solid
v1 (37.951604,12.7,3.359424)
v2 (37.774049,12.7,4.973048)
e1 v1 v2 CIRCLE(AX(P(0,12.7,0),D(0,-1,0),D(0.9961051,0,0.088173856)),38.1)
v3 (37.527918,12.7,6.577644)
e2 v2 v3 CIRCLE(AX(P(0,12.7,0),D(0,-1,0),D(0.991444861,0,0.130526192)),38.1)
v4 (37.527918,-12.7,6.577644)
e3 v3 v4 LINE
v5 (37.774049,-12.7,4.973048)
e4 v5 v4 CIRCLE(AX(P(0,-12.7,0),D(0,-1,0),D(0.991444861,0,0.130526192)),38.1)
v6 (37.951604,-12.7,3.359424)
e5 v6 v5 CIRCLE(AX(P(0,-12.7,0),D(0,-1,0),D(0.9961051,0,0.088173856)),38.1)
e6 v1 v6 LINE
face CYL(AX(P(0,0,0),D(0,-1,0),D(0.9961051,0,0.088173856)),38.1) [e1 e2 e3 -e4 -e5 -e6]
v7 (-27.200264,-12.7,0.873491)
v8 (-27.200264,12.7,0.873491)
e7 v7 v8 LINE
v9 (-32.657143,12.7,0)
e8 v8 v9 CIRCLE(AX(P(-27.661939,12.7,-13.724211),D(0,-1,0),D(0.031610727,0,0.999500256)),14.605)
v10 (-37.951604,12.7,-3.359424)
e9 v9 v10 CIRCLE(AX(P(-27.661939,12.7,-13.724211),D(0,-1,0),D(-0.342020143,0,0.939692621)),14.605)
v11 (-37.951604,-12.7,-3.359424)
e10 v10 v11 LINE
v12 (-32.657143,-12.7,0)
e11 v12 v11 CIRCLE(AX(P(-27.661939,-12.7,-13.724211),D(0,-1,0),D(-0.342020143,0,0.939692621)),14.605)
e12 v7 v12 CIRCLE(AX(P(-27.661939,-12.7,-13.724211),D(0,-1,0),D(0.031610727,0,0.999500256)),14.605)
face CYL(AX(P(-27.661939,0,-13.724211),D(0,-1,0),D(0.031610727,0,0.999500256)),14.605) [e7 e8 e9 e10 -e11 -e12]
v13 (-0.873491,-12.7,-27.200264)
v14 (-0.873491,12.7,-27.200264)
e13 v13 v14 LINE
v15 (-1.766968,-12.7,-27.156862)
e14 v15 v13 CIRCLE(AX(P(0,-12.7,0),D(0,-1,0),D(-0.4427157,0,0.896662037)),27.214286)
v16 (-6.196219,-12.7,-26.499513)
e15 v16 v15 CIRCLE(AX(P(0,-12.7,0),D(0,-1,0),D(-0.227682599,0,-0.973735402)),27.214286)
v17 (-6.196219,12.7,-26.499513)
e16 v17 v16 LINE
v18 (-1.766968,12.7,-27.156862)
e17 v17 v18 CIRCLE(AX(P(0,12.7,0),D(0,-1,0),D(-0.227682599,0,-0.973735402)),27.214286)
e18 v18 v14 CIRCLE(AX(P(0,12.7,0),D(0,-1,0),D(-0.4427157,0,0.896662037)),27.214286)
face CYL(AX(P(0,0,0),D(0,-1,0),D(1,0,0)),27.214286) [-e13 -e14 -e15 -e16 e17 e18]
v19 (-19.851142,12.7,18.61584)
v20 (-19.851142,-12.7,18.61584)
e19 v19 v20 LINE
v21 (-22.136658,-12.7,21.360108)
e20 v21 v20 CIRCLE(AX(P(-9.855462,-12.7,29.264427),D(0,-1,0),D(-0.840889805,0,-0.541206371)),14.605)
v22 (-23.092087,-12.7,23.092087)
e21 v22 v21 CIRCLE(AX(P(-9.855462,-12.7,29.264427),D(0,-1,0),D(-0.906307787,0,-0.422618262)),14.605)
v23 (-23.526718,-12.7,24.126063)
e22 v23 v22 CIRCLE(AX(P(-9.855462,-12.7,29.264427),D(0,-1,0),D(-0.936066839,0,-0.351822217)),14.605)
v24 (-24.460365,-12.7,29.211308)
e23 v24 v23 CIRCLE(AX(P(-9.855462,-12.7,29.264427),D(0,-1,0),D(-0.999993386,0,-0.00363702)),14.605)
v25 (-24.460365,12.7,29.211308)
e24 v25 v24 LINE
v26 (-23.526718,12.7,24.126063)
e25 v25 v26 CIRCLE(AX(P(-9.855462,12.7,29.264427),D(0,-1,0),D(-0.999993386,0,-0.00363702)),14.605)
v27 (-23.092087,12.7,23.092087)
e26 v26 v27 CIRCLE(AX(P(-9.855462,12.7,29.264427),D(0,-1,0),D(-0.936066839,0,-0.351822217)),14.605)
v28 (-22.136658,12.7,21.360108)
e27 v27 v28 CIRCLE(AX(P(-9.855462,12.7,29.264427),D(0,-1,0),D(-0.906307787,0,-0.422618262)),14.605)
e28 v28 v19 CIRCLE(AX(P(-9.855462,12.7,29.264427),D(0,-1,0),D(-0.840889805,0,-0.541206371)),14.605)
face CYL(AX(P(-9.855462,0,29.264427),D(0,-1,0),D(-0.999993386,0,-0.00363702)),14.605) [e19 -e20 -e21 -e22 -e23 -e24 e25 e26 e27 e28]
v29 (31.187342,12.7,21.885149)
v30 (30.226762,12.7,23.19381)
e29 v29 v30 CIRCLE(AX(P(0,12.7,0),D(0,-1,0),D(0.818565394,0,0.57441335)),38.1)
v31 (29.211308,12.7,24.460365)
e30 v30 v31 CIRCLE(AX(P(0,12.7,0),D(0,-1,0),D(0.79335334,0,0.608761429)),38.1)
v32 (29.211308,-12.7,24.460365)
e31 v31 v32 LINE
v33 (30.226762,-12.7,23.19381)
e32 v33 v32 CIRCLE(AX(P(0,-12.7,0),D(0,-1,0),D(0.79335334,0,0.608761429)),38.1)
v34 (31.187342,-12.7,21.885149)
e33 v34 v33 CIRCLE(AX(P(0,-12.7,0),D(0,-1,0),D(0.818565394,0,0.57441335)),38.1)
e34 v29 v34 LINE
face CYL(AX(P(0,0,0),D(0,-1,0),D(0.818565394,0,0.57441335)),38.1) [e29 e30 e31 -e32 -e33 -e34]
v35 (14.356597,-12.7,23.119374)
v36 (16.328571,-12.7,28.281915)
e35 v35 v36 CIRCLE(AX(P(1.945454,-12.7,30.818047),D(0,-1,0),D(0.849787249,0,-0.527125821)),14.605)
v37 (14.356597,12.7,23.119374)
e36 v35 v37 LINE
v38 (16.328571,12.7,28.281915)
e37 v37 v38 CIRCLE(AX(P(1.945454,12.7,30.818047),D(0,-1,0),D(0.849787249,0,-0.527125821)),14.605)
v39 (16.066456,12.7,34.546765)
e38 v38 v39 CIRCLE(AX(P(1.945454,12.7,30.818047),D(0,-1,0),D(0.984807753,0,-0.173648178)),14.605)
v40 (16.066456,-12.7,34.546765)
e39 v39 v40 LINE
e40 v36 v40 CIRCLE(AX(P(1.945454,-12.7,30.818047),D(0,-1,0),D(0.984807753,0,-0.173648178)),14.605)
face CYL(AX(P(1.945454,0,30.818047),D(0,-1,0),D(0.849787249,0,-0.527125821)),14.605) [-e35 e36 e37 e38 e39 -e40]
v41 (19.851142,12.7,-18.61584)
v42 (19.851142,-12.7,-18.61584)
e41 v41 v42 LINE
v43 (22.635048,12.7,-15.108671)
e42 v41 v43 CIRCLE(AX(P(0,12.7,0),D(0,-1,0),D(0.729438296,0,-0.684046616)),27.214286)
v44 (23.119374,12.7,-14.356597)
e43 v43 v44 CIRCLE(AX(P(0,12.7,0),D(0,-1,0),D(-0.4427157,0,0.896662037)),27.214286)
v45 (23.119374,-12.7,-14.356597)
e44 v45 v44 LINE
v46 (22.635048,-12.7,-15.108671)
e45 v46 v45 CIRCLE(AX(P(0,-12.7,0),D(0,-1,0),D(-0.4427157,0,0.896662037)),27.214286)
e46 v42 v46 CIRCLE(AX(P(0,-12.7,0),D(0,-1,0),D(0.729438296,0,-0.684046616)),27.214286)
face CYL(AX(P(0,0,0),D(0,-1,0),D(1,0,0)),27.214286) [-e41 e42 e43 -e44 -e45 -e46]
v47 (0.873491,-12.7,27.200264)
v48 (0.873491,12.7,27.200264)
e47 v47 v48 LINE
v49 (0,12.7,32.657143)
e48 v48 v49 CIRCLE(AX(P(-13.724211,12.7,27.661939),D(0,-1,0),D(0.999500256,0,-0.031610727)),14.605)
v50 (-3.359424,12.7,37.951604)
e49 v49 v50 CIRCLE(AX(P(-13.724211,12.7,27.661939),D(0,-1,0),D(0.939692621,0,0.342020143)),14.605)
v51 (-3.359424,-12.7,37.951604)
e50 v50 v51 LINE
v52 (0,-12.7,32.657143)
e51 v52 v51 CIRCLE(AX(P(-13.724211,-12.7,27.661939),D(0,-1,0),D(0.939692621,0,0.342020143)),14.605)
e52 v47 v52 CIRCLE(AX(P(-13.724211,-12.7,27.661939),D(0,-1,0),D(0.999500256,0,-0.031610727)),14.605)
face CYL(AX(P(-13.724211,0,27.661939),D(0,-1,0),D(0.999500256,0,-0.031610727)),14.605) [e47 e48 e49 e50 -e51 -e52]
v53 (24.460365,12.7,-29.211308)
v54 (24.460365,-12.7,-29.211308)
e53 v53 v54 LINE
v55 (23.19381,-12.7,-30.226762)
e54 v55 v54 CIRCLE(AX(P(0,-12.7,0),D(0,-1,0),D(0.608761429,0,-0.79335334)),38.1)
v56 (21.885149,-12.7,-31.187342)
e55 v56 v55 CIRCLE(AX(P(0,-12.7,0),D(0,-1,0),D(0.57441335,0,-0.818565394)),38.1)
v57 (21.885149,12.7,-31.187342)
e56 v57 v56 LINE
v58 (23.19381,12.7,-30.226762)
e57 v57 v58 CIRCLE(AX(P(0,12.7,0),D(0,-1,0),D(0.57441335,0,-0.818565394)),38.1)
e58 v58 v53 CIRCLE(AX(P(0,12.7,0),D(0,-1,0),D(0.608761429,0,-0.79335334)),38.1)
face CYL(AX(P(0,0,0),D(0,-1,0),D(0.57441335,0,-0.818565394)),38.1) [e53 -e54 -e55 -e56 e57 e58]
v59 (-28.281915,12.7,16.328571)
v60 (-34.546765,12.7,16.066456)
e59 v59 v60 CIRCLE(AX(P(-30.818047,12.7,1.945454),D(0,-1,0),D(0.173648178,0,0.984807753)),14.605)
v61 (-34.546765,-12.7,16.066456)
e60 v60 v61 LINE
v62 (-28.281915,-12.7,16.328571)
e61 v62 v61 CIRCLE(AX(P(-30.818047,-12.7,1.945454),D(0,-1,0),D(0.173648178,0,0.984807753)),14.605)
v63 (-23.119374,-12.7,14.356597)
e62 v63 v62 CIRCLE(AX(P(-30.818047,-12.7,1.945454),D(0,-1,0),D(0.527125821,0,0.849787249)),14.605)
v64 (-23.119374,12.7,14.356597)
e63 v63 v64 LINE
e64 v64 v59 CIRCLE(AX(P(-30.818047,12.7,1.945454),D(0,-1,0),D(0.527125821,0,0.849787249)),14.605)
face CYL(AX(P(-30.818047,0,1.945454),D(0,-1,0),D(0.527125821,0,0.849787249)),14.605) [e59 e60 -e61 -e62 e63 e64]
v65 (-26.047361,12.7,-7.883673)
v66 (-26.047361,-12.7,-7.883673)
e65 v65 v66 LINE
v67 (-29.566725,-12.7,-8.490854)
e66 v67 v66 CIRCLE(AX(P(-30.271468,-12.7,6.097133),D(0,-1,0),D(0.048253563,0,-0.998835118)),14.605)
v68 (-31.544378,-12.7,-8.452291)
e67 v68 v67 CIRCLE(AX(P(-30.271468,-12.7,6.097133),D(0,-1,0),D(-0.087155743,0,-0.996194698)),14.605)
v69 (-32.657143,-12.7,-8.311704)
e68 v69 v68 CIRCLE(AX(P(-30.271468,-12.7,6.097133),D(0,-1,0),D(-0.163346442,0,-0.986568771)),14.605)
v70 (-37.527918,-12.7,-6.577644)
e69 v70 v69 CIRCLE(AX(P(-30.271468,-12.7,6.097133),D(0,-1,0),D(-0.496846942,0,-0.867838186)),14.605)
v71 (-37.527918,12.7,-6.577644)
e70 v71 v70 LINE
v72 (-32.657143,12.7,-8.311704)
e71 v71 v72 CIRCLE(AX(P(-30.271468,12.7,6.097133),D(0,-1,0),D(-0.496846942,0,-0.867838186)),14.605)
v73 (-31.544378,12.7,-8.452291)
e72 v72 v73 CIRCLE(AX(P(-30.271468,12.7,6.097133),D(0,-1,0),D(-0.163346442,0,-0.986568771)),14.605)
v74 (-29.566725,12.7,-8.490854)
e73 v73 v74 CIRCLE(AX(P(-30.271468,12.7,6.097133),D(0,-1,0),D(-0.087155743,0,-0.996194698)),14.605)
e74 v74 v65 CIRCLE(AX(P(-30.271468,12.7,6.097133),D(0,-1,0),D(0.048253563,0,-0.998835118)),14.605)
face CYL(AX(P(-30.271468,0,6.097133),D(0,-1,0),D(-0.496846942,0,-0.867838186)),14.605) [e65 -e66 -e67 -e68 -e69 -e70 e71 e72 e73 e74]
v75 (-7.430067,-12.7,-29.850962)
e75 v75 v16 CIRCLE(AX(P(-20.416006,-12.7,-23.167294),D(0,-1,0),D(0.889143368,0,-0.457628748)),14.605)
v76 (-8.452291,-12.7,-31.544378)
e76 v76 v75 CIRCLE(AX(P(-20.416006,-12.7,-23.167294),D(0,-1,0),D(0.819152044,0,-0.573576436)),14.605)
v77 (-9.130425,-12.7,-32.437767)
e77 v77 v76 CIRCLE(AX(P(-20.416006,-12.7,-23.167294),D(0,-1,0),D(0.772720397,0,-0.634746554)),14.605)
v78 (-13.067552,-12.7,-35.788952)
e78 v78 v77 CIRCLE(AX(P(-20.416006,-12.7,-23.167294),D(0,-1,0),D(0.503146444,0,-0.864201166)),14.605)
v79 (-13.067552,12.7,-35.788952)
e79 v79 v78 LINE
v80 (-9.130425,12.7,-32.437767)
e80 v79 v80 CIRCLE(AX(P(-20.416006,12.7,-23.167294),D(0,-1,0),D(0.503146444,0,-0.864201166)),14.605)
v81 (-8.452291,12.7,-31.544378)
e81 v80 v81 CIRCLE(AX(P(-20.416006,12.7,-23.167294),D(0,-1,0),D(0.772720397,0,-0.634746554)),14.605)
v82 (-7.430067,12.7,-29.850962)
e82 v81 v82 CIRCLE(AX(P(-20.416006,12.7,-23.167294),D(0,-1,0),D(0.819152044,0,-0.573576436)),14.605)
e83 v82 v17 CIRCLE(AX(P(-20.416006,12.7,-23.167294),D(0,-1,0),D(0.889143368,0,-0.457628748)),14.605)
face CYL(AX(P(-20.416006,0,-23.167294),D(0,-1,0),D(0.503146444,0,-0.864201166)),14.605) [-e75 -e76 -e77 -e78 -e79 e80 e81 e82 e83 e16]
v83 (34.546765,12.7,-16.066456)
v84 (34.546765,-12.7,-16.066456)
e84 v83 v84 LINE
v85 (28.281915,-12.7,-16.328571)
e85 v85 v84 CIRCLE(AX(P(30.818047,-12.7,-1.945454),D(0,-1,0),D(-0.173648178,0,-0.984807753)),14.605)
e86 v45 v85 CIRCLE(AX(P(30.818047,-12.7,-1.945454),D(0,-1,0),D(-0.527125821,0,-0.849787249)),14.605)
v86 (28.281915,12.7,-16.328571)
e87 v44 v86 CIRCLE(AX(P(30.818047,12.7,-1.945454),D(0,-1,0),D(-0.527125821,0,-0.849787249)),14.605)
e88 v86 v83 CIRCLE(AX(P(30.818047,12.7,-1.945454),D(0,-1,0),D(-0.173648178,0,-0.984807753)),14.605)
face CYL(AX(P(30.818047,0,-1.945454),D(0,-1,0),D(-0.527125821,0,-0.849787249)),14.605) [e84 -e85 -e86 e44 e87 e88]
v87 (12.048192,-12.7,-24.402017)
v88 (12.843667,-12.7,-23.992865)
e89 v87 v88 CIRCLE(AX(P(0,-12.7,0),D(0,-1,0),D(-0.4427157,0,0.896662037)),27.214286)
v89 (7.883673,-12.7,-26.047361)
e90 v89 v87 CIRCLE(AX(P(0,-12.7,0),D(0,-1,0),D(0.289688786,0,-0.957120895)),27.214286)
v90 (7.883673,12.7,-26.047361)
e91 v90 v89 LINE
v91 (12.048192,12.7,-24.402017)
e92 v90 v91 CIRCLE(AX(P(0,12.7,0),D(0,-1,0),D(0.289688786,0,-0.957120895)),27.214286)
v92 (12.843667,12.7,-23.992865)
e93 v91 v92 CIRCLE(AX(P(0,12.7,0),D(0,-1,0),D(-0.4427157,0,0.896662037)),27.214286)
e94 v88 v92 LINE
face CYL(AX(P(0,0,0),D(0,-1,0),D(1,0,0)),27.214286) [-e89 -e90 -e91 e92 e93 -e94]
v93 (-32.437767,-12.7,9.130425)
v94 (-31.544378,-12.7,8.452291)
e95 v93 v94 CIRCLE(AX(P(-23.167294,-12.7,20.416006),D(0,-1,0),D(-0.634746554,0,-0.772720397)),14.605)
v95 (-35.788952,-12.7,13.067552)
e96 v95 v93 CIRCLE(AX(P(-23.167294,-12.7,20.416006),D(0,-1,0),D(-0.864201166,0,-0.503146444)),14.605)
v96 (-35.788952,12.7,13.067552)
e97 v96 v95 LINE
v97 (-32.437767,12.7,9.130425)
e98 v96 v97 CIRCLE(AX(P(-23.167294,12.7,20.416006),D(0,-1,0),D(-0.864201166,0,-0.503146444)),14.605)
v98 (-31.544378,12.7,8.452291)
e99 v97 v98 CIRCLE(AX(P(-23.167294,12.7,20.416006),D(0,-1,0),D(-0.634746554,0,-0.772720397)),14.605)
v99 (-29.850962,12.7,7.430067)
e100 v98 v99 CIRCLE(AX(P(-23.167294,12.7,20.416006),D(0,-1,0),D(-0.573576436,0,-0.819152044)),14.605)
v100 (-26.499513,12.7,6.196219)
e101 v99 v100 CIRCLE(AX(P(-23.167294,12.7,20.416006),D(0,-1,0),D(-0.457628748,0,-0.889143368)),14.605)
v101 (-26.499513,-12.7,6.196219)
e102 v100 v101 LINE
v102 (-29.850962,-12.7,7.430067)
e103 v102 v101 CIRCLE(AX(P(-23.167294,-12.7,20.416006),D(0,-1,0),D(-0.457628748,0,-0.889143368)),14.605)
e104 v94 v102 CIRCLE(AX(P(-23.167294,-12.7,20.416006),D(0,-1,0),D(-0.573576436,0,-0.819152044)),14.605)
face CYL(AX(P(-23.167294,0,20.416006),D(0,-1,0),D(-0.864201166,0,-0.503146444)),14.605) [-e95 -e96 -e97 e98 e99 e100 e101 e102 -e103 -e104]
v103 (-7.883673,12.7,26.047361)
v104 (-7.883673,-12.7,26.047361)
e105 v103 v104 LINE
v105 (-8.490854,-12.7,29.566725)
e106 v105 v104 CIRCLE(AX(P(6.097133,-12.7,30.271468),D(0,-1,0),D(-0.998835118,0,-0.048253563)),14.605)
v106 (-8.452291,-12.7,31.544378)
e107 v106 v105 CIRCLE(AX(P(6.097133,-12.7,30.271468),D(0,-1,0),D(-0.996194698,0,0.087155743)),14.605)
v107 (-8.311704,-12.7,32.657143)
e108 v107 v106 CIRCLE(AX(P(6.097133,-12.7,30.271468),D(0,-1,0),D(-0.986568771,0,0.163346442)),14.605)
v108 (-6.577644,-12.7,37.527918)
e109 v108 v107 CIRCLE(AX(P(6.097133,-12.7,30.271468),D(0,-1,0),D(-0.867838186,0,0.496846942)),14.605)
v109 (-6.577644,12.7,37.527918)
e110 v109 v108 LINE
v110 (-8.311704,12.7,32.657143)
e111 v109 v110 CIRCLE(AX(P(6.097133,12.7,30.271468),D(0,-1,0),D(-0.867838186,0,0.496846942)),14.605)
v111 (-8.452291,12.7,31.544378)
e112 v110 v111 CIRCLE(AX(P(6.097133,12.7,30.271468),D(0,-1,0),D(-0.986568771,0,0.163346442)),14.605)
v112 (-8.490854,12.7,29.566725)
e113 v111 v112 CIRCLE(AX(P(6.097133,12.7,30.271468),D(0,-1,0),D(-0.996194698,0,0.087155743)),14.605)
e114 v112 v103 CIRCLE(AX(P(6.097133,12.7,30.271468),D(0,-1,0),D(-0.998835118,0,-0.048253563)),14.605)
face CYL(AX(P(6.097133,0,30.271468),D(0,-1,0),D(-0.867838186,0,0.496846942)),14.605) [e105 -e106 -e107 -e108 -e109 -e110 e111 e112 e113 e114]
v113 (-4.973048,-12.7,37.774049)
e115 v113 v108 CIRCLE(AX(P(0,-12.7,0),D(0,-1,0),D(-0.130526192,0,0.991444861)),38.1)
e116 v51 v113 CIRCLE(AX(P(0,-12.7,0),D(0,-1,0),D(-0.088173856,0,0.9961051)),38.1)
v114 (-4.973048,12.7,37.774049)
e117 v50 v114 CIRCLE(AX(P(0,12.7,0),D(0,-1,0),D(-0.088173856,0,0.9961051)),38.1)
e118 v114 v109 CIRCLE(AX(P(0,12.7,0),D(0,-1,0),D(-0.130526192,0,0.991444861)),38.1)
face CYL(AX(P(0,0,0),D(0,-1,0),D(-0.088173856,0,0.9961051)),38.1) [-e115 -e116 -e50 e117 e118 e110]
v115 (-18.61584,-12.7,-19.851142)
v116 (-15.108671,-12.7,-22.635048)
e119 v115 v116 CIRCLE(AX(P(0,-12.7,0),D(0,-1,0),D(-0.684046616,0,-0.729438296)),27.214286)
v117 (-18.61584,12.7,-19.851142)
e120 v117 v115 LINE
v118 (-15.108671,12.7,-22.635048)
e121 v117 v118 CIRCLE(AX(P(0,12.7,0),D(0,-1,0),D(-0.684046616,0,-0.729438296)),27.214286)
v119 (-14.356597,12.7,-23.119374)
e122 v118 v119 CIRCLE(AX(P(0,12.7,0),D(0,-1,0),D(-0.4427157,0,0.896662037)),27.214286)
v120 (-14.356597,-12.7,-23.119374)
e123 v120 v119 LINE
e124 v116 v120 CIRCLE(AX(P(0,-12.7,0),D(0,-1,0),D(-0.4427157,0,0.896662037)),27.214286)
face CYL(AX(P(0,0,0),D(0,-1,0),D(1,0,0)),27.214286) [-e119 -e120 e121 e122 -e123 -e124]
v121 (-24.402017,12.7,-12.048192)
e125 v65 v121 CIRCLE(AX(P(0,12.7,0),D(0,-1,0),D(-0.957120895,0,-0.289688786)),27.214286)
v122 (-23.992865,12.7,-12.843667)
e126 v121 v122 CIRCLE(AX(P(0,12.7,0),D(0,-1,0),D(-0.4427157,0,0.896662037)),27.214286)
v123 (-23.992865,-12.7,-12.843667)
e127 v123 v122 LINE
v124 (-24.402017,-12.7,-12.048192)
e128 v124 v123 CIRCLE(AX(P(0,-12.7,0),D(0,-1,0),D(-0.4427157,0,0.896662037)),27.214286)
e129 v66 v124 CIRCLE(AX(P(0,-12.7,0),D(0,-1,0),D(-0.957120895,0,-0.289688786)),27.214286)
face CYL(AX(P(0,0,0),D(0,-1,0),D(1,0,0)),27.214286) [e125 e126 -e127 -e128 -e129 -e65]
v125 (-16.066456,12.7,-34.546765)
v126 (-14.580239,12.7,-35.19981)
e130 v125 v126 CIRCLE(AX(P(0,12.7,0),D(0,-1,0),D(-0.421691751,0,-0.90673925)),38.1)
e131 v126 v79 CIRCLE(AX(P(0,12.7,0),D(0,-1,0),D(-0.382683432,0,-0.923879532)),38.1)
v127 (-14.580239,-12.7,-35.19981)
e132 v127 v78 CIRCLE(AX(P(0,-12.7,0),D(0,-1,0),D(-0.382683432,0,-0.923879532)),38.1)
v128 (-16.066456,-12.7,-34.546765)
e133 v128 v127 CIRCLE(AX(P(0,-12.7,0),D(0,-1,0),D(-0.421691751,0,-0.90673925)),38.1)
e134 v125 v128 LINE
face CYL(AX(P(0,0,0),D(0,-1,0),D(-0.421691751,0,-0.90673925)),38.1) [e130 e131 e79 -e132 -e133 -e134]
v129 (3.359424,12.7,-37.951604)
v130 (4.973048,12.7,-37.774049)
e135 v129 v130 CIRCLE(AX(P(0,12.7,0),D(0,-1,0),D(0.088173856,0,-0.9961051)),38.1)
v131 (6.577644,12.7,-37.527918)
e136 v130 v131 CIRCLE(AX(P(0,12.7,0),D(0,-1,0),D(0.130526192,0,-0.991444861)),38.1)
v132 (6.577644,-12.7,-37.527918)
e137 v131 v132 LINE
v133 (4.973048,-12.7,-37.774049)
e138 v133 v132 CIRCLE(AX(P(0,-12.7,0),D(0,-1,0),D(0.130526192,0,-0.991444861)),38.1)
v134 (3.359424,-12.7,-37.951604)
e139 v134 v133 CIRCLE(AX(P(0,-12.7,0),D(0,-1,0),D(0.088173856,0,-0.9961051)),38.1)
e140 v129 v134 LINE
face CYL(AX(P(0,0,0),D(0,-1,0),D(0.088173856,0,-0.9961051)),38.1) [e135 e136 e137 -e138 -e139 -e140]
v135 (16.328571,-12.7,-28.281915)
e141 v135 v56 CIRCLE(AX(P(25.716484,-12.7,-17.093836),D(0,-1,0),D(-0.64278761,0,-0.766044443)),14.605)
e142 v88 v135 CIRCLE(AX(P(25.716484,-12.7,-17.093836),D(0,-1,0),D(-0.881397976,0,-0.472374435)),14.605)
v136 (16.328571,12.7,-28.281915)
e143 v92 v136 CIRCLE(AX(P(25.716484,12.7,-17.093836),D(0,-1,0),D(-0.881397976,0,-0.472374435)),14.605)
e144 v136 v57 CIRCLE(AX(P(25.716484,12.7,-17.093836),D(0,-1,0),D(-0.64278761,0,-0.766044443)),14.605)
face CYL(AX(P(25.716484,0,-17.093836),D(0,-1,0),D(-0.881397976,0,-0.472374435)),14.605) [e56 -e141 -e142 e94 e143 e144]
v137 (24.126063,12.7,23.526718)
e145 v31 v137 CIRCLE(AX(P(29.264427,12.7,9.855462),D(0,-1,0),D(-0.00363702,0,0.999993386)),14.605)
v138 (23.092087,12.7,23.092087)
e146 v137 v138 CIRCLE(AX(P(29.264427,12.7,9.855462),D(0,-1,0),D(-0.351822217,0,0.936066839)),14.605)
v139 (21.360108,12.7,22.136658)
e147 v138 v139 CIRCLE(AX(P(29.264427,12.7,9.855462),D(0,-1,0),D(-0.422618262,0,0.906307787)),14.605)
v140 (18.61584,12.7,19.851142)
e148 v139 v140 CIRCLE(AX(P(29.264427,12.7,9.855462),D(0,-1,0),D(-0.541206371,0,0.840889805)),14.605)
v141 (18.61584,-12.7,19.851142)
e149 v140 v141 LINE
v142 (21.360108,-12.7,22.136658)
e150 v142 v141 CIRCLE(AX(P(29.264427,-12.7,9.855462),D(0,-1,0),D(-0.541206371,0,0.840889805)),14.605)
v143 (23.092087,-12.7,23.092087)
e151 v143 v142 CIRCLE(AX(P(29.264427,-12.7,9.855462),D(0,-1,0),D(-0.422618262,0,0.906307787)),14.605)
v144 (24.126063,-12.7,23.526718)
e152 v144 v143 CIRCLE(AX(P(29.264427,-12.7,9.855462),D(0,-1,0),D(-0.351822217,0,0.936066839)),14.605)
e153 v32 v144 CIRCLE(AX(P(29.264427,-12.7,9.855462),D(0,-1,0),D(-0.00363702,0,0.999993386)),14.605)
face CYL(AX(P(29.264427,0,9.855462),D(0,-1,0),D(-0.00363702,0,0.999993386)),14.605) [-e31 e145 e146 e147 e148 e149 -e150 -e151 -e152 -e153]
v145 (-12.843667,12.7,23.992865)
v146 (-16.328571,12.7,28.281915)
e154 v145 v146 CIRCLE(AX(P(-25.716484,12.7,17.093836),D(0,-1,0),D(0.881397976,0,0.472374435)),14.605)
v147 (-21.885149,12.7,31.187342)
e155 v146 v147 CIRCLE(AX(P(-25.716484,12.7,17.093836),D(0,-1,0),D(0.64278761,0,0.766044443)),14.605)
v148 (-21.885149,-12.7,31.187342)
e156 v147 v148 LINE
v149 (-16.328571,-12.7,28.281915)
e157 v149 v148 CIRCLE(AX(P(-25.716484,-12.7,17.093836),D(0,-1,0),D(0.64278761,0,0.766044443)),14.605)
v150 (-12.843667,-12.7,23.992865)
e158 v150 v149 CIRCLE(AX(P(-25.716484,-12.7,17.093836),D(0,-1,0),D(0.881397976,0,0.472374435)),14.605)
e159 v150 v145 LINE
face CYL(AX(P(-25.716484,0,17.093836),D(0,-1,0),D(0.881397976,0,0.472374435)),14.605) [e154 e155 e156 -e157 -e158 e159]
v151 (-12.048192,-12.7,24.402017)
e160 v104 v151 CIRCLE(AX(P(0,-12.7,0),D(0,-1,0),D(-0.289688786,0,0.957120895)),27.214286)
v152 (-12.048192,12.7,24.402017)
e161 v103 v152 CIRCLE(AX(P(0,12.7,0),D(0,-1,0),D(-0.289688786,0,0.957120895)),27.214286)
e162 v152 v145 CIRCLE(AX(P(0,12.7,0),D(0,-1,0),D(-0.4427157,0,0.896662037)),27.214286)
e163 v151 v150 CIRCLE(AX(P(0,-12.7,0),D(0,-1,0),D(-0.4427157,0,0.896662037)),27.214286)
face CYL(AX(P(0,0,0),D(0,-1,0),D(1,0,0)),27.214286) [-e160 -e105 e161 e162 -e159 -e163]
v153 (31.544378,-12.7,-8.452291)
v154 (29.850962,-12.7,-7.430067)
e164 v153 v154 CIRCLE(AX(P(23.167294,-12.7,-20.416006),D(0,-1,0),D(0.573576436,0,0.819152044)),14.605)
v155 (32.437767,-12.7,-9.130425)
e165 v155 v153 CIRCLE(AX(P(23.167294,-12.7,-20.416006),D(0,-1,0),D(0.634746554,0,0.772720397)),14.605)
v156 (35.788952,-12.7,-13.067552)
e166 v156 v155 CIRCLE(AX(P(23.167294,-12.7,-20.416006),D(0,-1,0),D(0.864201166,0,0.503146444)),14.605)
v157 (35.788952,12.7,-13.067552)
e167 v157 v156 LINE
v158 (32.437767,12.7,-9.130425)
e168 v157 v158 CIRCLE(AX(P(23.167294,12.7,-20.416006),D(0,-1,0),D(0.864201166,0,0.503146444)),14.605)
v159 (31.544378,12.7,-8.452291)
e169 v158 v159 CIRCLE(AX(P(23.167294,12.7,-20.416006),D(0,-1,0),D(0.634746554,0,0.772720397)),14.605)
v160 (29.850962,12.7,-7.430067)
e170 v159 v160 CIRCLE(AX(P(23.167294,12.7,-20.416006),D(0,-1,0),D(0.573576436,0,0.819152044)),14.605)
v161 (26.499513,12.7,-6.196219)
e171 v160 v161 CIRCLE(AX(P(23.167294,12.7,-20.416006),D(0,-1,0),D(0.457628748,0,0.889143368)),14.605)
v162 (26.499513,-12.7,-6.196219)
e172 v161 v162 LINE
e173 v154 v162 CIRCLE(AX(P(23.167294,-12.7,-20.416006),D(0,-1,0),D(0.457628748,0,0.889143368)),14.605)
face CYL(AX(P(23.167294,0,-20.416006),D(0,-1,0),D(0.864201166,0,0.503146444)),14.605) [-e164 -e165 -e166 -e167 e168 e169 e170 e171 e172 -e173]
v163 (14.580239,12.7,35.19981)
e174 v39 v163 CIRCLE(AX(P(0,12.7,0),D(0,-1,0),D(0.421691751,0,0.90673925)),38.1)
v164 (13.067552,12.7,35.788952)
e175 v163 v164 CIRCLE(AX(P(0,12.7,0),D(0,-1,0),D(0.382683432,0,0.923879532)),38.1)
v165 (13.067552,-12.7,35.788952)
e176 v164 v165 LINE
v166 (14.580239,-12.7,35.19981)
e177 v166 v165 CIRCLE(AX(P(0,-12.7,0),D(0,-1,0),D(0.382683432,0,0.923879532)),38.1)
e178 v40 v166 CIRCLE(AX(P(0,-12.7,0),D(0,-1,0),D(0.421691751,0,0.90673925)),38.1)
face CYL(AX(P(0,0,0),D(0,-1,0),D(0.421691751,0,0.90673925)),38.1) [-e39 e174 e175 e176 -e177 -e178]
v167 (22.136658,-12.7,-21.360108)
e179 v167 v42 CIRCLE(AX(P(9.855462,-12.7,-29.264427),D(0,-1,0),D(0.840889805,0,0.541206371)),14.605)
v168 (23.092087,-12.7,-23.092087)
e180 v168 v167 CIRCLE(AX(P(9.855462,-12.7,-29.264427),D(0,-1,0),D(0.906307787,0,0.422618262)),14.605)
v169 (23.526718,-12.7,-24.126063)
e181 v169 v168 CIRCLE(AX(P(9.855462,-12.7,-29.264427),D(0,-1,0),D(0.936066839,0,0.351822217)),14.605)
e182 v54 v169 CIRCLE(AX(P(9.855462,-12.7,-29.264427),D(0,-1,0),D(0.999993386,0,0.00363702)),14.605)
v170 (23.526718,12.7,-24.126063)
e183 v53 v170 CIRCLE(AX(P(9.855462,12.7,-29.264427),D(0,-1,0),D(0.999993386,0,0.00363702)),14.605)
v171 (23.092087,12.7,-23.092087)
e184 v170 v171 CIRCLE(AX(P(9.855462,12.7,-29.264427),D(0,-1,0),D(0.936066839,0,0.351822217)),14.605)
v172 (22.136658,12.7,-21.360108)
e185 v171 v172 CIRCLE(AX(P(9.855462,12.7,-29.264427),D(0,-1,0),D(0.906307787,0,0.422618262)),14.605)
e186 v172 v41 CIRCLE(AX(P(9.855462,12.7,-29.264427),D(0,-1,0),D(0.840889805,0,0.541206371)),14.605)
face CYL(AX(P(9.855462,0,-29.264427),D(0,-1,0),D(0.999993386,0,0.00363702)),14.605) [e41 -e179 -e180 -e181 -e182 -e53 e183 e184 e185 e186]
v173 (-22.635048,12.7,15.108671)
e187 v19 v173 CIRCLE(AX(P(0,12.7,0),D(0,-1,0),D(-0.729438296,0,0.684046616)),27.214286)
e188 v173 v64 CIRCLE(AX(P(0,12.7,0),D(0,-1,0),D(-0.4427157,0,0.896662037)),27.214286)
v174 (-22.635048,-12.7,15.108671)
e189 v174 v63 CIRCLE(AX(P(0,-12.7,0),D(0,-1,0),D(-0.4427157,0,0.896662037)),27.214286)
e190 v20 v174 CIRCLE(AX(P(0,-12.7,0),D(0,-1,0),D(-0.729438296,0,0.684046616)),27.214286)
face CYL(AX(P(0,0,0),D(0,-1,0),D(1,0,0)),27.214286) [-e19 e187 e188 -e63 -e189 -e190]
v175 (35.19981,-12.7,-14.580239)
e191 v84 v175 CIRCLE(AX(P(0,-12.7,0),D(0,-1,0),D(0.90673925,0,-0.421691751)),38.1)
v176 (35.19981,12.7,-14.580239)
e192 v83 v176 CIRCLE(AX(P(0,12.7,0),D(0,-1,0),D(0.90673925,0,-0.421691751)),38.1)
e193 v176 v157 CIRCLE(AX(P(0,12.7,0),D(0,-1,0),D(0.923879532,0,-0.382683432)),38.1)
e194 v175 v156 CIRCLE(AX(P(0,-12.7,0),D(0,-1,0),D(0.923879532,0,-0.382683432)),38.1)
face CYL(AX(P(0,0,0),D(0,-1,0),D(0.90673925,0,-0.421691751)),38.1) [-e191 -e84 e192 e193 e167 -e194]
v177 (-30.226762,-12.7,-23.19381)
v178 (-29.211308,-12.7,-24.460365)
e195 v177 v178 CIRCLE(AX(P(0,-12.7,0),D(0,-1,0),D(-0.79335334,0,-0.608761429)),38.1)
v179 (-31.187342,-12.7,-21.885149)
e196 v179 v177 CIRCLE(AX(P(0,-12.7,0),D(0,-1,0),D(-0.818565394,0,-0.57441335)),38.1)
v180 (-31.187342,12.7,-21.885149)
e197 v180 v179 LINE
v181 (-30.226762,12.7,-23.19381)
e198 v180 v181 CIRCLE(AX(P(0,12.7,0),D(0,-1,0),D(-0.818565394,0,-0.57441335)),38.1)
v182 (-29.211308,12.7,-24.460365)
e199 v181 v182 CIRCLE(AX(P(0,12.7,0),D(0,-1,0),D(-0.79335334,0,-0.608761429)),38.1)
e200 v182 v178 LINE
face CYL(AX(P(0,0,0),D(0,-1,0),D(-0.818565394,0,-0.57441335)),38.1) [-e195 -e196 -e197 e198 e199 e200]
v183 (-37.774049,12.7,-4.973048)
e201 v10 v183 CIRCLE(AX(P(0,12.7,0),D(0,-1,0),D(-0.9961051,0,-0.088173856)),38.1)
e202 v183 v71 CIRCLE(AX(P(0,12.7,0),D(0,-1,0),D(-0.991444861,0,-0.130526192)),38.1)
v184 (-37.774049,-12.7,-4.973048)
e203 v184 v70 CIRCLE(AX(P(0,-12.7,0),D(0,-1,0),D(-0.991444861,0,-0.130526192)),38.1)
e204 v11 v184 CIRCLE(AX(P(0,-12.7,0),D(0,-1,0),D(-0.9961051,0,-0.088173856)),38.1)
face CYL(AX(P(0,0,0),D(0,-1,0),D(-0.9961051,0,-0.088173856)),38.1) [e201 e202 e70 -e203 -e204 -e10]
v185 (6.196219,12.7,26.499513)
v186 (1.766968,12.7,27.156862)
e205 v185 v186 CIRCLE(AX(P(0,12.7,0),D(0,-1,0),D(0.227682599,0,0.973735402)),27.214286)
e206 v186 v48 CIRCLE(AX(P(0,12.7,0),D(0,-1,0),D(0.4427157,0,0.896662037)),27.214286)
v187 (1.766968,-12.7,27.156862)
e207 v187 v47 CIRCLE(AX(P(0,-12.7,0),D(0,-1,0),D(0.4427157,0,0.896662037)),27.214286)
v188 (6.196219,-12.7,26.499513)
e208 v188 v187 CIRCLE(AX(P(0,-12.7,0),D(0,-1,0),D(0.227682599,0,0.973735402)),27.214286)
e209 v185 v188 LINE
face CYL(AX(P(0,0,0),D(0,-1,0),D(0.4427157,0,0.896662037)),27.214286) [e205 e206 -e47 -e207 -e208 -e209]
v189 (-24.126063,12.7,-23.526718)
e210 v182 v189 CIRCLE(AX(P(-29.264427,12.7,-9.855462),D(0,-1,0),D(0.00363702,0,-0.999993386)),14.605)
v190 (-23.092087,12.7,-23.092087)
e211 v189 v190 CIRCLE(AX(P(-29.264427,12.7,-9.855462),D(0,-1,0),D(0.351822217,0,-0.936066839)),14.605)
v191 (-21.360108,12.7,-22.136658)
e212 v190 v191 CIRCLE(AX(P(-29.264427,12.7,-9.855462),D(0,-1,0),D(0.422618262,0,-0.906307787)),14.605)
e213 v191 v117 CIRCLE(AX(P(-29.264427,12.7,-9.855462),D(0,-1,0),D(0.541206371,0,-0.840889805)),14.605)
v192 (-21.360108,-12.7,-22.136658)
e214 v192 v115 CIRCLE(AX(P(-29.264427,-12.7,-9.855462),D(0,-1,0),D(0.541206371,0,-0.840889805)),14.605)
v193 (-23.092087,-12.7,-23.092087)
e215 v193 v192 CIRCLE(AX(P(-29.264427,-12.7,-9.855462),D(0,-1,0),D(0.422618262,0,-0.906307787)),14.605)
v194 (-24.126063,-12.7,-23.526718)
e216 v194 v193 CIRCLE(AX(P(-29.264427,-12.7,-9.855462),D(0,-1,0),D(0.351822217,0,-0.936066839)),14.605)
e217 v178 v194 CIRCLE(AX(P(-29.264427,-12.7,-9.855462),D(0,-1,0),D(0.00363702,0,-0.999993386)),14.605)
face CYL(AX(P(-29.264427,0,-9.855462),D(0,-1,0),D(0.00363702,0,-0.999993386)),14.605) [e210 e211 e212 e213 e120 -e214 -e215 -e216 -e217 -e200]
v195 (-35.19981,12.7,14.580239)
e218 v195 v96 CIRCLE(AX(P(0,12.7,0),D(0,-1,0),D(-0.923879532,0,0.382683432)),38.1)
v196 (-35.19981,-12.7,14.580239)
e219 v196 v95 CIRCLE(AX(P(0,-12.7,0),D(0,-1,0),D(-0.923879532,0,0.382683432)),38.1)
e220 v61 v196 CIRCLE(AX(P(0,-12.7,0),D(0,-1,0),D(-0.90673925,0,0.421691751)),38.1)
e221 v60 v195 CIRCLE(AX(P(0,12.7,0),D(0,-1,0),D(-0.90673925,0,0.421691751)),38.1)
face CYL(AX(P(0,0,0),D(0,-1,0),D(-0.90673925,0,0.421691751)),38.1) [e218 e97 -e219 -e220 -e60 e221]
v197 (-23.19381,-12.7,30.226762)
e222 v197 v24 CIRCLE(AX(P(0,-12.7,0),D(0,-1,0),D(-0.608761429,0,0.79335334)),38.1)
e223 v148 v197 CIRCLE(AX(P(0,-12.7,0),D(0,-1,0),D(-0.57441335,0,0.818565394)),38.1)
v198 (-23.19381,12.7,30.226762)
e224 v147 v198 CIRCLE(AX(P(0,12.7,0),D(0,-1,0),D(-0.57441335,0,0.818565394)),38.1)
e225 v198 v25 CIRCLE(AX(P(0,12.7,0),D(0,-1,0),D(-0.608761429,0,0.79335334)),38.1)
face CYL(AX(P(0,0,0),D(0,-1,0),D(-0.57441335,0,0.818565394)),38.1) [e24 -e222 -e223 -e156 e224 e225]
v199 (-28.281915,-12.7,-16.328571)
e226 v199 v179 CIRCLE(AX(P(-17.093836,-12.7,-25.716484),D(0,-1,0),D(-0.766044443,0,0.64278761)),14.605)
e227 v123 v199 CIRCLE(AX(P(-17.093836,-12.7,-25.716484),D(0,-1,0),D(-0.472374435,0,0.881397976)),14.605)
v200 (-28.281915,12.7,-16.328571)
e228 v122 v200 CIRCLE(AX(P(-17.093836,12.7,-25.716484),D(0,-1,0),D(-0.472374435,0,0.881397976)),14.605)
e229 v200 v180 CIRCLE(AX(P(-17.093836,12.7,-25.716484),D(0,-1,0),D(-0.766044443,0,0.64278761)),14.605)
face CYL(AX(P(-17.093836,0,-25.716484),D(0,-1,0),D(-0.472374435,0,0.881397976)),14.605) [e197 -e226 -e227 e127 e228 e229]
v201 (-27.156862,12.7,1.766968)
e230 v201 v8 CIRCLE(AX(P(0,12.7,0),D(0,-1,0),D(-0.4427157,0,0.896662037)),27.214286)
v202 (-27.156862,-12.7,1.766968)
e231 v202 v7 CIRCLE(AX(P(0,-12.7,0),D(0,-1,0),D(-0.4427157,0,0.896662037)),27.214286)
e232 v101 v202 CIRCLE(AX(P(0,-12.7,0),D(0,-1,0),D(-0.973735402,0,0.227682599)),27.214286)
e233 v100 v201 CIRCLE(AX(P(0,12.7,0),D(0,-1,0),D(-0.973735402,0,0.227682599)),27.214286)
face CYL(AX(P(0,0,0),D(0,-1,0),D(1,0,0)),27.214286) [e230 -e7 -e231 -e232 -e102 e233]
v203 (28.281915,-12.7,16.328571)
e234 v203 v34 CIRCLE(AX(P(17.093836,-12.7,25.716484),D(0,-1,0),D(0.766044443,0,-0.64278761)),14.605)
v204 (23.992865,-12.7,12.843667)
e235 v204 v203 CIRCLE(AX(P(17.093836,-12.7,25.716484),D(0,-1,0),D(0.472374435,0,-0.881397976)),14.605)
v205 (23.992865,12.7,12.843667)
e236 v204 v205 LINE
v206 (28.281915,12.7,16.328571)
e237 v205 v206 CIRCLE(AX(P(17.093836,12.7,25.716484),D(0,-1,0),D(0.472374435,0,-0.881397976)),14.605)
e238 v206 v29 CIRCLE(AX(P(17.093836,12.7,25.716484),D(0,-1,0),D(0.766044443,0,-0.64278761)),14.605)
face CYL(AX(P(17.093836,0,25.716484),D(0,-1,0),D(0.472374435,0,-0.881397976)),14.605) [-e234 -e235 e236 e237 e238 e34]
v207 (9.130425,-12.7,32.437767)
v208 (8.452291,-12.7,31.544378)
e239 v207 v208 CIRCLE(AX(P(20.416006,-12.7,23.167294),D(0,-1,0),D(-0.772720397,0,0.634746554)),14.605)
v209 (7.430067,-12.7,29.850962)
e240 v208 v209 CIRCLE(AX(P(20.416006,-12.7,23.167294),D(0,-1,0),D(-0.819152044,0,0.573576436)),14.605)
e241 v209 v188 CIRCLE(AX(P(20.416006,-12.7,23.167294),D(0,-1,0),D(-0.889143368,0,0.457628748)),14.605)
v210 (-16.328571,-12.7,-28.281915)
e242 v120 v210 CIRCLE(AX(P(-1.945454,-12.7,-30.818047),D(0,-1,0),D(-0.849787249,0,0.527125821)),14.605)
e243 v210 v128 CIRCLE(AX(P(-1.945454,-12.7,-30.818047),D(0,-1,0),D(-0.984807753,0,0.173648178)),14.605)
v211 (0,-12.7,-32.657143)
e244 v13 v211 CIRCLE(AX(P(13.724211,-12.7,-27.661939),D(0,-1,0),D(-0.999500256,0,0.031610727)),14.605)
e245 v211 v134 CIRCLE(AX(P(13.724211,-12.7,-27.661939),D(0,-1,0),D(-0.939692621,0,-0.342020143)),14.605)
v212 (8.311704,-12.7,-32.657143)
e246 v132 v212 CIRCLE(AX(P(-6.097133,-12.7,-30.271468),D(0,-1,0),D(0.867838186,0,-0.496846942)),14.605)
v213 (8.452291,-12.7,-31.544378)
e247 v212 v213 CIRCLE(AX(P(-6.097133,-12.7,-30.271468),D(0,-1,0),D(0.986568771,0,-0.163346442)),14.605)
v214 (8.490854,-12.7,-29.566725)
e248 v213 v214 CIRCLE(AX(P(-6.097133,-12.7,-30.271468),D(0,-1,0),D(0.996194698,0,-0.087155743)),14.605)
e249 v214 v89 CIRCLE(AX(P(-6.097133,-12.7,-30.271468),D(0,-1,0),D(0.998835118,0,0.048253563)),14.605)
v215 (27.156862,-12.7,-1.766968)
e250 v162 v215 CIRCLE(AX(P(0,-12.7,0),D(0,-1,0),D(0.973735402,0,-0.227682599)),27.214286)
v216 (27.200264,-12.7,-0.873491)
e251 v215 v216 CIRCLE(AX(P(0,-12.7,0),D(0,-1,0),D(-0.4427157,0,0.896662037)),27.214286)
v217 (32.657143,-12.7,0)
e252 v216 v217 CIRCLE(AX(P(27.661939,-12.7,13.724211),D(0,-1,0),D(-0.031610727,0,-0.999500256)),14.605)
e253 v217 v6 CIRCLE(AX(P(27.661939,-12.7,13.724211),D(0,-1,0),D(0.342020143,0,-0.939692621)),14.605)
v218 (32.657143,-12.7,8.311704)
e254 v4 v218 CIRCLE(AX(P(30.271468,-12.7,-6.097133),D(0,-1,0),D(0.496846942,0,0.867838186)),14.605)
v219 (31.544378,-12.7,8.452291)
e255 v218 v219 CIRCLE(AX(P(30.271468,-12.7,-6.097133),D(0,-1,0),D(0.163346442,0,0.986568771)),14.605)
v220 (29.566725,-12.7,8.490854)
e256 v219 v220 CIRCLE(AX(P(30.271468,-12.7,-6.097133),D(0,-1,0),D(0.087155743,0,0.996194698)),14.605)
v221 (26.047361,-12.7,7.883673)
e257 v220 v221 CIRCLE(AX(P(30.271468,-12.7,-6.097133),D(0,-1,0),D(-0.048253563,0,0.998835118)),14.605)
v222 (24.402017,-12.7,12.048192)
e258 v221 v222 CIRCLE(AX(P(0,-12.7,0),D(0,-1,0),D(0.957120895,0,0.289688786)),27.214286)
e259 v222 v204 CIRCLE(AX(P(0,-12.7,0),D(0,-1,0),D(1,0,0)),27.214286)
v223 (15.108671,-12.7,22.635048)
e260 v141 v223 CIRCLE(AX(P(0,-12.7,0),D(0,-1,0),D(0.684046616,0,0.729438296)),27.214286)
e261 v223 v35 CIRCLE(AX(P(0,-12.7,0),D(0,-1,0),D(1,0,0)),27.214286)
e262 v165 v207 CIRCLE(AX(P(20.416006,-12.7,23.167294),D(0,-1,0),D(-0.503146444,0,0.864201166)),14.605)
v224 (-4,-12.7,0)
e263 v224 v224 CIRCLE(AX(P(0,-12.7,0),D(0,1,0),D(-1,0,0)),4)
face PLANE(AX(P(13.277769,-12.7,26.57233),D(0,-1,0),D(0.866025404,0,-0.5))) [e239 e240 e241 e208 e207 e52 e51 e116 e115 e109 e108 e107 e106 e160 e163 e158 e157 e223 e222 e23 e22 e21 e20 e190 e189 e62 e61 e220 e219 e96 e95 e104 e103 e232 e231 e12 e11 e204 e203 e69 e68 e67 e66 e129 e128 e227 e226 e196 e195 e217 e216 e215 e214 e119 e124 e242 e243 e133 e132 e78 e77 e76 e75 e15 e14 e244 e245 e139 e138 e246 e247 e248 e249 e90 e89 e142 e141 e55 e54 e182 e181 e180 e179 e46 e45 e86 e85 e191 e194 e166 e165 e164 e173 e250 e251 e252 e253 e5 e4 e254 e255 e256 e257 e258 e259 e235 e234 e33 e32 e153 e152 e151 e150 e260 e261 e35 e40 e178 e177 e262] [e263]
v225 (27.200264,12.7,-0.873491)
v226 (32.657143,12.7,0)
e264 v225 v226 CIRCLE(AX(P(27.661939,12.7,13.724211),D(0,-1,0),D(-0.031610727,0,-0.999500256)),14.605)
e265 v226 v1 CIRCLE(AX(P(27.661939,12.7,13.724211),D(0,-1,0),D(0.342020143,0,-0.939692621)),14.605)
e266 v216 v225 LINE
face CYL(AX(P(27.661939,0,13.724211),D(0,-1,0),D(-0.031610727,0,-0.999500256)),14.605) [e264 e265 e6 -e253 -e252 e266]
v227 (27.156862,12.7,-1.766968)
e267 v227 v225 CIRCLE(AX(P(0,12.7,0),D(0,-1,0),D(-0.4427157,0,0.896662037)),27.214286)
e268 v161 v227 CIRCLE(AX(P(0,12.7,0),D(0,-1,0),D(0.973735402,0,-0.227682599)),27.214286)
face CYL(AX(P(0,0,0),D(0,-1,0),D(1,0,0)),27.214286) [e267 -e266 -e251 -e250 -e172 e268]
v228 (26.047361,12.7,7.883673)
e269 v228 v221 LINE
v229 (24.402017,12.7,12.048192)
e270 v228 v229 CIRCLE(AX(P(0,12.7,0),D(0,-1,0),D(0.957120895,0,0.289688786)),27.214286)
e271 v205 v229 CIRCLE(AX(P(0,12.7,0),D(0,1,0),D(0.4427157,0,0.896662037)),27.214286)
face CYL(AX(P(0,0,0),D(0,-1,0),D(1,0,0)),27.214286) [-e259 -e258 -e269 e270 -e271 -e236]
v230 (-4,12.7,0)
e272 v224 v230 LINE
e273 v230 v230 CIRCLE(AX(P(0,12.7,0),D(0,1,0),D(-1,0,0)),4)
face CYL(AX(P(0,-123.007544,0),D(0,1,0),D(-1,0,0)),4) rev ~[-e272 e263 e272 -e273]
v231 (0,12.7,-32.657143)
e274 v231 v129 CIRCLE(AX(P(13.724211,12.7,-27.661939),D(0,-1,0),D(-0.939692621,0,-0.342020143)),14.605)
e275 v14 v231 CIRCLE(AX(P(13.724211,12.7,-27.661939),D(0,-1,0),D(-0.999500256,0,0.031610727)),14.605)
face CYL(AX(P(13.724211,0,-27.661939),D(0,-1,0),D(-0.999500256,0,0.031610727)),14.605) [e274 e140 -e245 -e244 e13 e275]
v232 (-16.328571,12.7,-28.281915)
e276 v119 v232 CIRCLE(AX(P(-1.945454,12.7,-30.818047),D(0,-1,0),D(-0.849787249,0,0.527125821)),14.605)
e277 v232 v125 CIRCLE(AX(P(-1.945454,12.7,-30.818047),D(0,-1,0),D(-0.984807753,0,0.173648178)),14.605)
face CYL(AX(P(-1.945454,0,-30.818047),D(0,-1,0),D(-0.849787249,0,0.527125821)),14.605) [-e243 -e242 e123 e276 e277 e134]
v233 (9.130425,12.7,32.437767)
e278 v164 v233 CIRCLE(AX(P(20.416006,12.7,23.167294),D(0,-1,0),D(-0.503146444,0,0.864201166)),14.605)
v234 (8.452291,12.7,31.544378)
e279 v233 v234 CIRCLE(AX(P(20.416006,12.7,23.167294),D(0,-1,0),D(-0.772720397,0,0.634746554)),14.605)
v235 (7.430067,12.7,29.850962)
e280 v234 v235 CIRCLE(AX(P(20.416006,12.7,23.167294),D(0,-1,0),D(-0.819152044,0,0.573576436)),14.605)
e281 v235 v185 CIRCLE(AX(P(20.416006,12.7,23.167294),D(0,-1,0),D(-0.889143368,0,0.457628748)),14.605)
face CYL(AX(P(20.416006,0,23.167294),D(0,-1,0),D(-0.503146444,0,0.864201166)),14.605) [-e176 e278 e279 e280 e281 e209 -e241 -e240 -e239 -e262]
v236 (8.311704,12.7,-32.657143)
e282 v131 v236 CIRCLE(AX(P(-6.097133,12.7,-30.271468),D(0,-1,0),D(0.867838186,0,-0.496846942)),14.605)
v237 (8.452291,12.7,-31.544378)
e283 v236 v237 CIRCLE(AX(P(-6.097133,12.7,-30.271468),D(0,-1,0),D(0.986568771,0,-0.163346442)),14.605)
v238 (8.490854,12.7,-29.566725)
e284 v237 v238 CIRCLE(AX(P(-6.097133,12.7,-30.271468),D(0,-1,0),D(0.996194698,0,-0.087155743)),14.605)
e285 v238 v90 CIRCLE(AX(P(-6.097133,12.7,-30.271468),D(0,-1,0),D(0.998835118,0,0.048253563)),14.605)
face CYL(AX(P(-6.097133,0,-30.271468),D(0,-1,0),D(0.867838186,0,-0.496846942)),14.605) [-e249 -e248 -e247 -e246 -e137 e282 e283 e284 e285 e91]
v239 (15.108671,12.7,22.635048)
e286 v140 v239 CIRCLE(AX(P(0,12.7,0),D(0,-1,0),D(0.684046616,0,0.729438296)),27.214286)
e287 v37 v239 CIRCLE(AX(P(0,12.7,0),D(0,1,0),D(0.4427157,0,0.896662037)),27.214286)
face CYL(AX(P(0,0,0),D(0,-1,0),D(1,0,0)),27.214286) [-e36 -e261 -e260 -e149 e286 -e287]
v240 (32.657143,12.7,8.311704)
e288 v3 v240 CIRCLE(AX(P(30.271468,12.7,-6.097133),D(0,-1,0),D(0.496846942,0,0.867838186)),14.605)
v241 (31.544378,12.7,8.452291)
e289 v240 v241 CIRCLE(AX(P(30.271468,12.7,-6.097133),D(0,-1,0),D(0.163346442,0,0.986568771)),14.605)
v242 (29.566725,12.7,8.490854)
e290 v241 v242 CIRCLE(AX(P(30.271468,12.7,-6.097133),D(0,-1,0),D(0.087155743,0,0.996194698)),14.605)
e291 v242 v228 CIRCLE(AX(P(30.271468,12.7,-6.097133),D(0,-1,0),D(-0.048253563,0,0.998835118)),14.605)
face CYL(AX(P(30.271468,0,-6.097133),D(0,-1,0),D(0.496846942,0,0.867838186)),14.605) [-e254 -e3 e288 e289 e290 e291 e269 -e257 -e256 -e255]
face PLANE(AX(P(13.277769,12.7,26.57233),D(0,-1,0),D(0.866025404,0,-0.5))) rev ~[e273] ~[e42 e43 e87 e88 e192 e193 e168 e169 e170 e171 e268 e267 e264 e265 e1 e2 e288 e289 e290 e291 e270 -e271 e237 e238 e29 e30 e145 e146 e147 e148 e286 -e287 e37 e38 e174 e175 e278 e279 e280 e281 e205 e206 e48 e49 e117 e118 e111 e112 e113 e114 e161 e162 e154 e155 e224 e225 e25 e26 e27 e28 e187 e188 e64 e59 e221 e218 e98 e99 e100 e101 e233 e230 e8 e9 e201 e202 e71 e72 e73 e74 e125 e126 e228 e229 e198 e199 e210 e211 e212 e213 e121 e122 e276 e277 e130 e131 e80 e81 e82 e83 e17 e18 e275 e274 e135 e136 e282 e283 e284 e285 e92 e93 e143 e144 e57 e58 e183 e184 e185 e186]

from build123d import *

# Parameters (mm, degrees)
F2_DEPTH = 12.7
F3_COUNT = 12
F3_ANGLE = 330
F5_D     = 8


with BuildPart() as f2:
    # F1 (on Front) → F2 (new body, symmetric)
    with BuildSketch(Plane.XZ):
        with BuildLine():
            Line((0, 27.2142857143), (0, 32.6571428571))
            Line((0, 32.6571428571), (-4.1027982168, 31.163846429))
            Line((-4.1027982168, 31.163846429), (-3.5521770883, 26.9814637274))
            ThreePointArc((-3.5521770883, 26.9814637274), (-1.7798994455, 27.1560178396), (0, 27.2142857143))
        make_face()
        with BuildLine():
            Line((-3.5521770883, 26.9814637274), (-4.1027982168, 31.163846429))
            Line((-4.1027982168, 31.163846429), (-8.4908538679, 29.5667247857))
            ThreePointArc((-8.4908538679, 29.5667247857), (-8.2952422965, 27.7884140488), (-7.8836733992, 26.0473614916))
            ThreePointArc((-7.8836733992, 26.0473614916), (-5.7369683492, 26.6027167992), (-3.5521770883, 26.9814637274))
        make_face()
        with BuildLine():
            Line((-4.1027982168, 31.163846429), (-4.2626125059, 32.3777564729))
            ThreePointArc((-4.2626125059, 32.3777564729), (-6.3710925161, 32.0296450143), (-8.4522905301, 31.5443776985))
            ThreePointArc((-8.4522905301, 31.5443776985), (-8.5050911091, 30.5562048457), (-8.4908538679, 29.5667247857))
            Line((-8.4908538679, 29.5667247857), (-4.1027982168, 31.163846429))
        make_face()
        with BuildLine():
            ThreePointArc((-8.4522905301, 31.5443776985), (-6.3710925161, 32.0296450143), (-4.2626125059, 32.3777564729))
            Line((-4.2626125059, 32.3777564729), (-4.2993944212, 32.6571428571))
            Line((-4.2993944212, 32.6571428571), (-8.3117038653, 32.6571428571))
            ThreePointArc((-8.3117038653, 32.6571428571), (-8.3926831774, 32.1021103437), (-8.4522905301, 31.5443776985))
        make_face()
        with BuildLine():
            Line((-4.1027982168, 31.163846429), (0, 32.6571428571))
            ThreePointArc((0, 32.6571428571), (-2.1358793346, 32.5872214075), (-4.2626125059, 32.3777564729))
            Line((-4.2626125059, 32.3777564729), (-4.1027982168, 31.163846429))
        make_face()
        with BuildLine():
            ThreePointArc((-4.2626125059, 32.3777564729), (-2.1358793346, 32.5872214075), (0, 32.6571428571))
            Line((0, 32.6571428571), (-4.2993944212, 32.6571428571))
            Line((-4.2993944212, 32.6571428571), (-4.2626125059, 32.3777564729))
        make_face()
        with BuildLine():
            ThreePointArc((0, 32.6571428571), (-1.3922286837, 35.486786515), (-3.3594239194, 37.9516043262))
            ThreePointArc((-3.3594239194, 37.9516043262), (-4.1671816864, 37.8714219009), (-4.9730479236, 37.7740492183))
            Line((-4.9730479236, 37.7740492183), (-4.2993944212, 32.6571428571))
            Line((-4.2993944212, 32.6571428571), (0, 32.6571428571))
        make_face()
        with BuildLine():
            Line((-4.2993944212, 32.6571428571), (-4.9730479236, 37.7740492183))
            ThreePointArc((-4.9730479236, 37.7740492183), (-5.7766568393, 37.6595304772), (-6.5776436666, 37.5279176587))
            ThreePointArc((-6.5776436666, 37.5279176587), (-7.661923736, 35.1698741183), (-8.3117038653, 32.6571428571))
            Line((-8.3117038653, 32.6571428571), (-4.2993944212, 32.6571428571))
        make_face()
        with BuildLine():
            ThreePointArc((0.8734905136, 27.2002639925), (0.6971989167, 29.9703946199), (0, 32.6571428571))
            Line((0, 32.6571428571), (0, 27.2142857143))
            ThreePointArc((0, 27.2142857143), (0.4368015242, 27.210780058), (0.8734905136, 27.2002639925))
        make_face()
        with BuildLine():
            ThreePointArc((27.2142857143, 0), (23.1138516304, 14.3654867564), (12.0481915595, 24.4020168651))
            ThreePointArc((12.0481915595, 24.4020168651), (6.8095488061, 19.7367686343), (0, 18.0521428571))
            Line((0, 18.0521428571), (0, 0))
            Line((0, 0), (-2.402809942, 18.2511534992))
            ThreePointArc((-2.402809942, 18.2511534992), (-7.8527791982, 20.3429281496), (-12.0481915595, 24.4020168651))
            ThreePointArc((-12.0481915595, 24.4020168651), (-14.3654867564, -23.1138516304), (27.2142857143, 0))
        make_face()
        with BuildLine():
            ThreePointArc((-7.8836733992, 26.0473614916), (-9.9998299945, 25.3104868981), (-12.0481915595, 24.4020168651))
            ThreePointArc((-12.0481915595, 24.4020168651), (-7.8527791982, 20.3429281496), (-2.402809942, 18.2511534992))
            Line((-2.402809942, 18.2511534992), (-3.5521770883, 26.9814637274))
            ThreePointArc((-3.5521770883, 26.9814637274), (-5.7369683492, 26.6027167992), (-7.8836733992, 26.0473614916))
        make_face()
        with BuildLine():
            Line((0, 18.0521428571), (0, 27.2142857143))
            ThreePointArc((0, 27.2142857143), (-1.7798994455, 27.1560178396), (-3.5521770883, 26.9814637274))
            Line((-3.5521770883, 26.9814637274), (-2.402809942, 18.2511534992))
            ThreePointArc((-2.402809942, 18.2511534992), (-1.2055186491, 18.10198055), (0, 18.0521428571))
        make_face()
        with BuildLine():
            Line((0, 0), (0, 18.0521428571))
            ThreePointArc((0, 18.0521428571), (-1.2055186491, 18.10198055), (-2.402809942, 18.2511534992))
            Line((-2.402809942, 18.2511534992), (0, 0))
        make_face()
        with BuildLine():
            ThreePointArc((0.8734905136, 27.2002639925), (0.4368015242, 27.210780058), (0, 27.2142857143))
            Line((0, 27.2142857143), (0, 18.0521428571))
            ThreePointArc((0, 18.0521428571), (6.8095488061, 19.7367686343), (12.0481915595, 24.4020168651))
            ThreePointArc((12.0481915595, 24.4020168651), (6.6105985846, 26.399191906), (0.8734905136, 27.2002639925))
        make_face()
    extrude(amount=F2_DEPTH, both=True)

    # F3: F2 ×12 about axis
    f3_axis = Axis((0, 0, 0), (0, -1, 0))


with BuildPart() as f2_1:
    add(f2.part)
    for i in range(1, F3_COUNT):
        add(f2.part.rotate(f3_axis, i * F3_ANGLE / (F3_COUNT - 1)))

    # F5 (through all)
    with Locations(Plane.XZ.offset(12.7)):
        with Locations((0, 0)):
            Hole(F5_D / 2)


solid = f2_1.part
